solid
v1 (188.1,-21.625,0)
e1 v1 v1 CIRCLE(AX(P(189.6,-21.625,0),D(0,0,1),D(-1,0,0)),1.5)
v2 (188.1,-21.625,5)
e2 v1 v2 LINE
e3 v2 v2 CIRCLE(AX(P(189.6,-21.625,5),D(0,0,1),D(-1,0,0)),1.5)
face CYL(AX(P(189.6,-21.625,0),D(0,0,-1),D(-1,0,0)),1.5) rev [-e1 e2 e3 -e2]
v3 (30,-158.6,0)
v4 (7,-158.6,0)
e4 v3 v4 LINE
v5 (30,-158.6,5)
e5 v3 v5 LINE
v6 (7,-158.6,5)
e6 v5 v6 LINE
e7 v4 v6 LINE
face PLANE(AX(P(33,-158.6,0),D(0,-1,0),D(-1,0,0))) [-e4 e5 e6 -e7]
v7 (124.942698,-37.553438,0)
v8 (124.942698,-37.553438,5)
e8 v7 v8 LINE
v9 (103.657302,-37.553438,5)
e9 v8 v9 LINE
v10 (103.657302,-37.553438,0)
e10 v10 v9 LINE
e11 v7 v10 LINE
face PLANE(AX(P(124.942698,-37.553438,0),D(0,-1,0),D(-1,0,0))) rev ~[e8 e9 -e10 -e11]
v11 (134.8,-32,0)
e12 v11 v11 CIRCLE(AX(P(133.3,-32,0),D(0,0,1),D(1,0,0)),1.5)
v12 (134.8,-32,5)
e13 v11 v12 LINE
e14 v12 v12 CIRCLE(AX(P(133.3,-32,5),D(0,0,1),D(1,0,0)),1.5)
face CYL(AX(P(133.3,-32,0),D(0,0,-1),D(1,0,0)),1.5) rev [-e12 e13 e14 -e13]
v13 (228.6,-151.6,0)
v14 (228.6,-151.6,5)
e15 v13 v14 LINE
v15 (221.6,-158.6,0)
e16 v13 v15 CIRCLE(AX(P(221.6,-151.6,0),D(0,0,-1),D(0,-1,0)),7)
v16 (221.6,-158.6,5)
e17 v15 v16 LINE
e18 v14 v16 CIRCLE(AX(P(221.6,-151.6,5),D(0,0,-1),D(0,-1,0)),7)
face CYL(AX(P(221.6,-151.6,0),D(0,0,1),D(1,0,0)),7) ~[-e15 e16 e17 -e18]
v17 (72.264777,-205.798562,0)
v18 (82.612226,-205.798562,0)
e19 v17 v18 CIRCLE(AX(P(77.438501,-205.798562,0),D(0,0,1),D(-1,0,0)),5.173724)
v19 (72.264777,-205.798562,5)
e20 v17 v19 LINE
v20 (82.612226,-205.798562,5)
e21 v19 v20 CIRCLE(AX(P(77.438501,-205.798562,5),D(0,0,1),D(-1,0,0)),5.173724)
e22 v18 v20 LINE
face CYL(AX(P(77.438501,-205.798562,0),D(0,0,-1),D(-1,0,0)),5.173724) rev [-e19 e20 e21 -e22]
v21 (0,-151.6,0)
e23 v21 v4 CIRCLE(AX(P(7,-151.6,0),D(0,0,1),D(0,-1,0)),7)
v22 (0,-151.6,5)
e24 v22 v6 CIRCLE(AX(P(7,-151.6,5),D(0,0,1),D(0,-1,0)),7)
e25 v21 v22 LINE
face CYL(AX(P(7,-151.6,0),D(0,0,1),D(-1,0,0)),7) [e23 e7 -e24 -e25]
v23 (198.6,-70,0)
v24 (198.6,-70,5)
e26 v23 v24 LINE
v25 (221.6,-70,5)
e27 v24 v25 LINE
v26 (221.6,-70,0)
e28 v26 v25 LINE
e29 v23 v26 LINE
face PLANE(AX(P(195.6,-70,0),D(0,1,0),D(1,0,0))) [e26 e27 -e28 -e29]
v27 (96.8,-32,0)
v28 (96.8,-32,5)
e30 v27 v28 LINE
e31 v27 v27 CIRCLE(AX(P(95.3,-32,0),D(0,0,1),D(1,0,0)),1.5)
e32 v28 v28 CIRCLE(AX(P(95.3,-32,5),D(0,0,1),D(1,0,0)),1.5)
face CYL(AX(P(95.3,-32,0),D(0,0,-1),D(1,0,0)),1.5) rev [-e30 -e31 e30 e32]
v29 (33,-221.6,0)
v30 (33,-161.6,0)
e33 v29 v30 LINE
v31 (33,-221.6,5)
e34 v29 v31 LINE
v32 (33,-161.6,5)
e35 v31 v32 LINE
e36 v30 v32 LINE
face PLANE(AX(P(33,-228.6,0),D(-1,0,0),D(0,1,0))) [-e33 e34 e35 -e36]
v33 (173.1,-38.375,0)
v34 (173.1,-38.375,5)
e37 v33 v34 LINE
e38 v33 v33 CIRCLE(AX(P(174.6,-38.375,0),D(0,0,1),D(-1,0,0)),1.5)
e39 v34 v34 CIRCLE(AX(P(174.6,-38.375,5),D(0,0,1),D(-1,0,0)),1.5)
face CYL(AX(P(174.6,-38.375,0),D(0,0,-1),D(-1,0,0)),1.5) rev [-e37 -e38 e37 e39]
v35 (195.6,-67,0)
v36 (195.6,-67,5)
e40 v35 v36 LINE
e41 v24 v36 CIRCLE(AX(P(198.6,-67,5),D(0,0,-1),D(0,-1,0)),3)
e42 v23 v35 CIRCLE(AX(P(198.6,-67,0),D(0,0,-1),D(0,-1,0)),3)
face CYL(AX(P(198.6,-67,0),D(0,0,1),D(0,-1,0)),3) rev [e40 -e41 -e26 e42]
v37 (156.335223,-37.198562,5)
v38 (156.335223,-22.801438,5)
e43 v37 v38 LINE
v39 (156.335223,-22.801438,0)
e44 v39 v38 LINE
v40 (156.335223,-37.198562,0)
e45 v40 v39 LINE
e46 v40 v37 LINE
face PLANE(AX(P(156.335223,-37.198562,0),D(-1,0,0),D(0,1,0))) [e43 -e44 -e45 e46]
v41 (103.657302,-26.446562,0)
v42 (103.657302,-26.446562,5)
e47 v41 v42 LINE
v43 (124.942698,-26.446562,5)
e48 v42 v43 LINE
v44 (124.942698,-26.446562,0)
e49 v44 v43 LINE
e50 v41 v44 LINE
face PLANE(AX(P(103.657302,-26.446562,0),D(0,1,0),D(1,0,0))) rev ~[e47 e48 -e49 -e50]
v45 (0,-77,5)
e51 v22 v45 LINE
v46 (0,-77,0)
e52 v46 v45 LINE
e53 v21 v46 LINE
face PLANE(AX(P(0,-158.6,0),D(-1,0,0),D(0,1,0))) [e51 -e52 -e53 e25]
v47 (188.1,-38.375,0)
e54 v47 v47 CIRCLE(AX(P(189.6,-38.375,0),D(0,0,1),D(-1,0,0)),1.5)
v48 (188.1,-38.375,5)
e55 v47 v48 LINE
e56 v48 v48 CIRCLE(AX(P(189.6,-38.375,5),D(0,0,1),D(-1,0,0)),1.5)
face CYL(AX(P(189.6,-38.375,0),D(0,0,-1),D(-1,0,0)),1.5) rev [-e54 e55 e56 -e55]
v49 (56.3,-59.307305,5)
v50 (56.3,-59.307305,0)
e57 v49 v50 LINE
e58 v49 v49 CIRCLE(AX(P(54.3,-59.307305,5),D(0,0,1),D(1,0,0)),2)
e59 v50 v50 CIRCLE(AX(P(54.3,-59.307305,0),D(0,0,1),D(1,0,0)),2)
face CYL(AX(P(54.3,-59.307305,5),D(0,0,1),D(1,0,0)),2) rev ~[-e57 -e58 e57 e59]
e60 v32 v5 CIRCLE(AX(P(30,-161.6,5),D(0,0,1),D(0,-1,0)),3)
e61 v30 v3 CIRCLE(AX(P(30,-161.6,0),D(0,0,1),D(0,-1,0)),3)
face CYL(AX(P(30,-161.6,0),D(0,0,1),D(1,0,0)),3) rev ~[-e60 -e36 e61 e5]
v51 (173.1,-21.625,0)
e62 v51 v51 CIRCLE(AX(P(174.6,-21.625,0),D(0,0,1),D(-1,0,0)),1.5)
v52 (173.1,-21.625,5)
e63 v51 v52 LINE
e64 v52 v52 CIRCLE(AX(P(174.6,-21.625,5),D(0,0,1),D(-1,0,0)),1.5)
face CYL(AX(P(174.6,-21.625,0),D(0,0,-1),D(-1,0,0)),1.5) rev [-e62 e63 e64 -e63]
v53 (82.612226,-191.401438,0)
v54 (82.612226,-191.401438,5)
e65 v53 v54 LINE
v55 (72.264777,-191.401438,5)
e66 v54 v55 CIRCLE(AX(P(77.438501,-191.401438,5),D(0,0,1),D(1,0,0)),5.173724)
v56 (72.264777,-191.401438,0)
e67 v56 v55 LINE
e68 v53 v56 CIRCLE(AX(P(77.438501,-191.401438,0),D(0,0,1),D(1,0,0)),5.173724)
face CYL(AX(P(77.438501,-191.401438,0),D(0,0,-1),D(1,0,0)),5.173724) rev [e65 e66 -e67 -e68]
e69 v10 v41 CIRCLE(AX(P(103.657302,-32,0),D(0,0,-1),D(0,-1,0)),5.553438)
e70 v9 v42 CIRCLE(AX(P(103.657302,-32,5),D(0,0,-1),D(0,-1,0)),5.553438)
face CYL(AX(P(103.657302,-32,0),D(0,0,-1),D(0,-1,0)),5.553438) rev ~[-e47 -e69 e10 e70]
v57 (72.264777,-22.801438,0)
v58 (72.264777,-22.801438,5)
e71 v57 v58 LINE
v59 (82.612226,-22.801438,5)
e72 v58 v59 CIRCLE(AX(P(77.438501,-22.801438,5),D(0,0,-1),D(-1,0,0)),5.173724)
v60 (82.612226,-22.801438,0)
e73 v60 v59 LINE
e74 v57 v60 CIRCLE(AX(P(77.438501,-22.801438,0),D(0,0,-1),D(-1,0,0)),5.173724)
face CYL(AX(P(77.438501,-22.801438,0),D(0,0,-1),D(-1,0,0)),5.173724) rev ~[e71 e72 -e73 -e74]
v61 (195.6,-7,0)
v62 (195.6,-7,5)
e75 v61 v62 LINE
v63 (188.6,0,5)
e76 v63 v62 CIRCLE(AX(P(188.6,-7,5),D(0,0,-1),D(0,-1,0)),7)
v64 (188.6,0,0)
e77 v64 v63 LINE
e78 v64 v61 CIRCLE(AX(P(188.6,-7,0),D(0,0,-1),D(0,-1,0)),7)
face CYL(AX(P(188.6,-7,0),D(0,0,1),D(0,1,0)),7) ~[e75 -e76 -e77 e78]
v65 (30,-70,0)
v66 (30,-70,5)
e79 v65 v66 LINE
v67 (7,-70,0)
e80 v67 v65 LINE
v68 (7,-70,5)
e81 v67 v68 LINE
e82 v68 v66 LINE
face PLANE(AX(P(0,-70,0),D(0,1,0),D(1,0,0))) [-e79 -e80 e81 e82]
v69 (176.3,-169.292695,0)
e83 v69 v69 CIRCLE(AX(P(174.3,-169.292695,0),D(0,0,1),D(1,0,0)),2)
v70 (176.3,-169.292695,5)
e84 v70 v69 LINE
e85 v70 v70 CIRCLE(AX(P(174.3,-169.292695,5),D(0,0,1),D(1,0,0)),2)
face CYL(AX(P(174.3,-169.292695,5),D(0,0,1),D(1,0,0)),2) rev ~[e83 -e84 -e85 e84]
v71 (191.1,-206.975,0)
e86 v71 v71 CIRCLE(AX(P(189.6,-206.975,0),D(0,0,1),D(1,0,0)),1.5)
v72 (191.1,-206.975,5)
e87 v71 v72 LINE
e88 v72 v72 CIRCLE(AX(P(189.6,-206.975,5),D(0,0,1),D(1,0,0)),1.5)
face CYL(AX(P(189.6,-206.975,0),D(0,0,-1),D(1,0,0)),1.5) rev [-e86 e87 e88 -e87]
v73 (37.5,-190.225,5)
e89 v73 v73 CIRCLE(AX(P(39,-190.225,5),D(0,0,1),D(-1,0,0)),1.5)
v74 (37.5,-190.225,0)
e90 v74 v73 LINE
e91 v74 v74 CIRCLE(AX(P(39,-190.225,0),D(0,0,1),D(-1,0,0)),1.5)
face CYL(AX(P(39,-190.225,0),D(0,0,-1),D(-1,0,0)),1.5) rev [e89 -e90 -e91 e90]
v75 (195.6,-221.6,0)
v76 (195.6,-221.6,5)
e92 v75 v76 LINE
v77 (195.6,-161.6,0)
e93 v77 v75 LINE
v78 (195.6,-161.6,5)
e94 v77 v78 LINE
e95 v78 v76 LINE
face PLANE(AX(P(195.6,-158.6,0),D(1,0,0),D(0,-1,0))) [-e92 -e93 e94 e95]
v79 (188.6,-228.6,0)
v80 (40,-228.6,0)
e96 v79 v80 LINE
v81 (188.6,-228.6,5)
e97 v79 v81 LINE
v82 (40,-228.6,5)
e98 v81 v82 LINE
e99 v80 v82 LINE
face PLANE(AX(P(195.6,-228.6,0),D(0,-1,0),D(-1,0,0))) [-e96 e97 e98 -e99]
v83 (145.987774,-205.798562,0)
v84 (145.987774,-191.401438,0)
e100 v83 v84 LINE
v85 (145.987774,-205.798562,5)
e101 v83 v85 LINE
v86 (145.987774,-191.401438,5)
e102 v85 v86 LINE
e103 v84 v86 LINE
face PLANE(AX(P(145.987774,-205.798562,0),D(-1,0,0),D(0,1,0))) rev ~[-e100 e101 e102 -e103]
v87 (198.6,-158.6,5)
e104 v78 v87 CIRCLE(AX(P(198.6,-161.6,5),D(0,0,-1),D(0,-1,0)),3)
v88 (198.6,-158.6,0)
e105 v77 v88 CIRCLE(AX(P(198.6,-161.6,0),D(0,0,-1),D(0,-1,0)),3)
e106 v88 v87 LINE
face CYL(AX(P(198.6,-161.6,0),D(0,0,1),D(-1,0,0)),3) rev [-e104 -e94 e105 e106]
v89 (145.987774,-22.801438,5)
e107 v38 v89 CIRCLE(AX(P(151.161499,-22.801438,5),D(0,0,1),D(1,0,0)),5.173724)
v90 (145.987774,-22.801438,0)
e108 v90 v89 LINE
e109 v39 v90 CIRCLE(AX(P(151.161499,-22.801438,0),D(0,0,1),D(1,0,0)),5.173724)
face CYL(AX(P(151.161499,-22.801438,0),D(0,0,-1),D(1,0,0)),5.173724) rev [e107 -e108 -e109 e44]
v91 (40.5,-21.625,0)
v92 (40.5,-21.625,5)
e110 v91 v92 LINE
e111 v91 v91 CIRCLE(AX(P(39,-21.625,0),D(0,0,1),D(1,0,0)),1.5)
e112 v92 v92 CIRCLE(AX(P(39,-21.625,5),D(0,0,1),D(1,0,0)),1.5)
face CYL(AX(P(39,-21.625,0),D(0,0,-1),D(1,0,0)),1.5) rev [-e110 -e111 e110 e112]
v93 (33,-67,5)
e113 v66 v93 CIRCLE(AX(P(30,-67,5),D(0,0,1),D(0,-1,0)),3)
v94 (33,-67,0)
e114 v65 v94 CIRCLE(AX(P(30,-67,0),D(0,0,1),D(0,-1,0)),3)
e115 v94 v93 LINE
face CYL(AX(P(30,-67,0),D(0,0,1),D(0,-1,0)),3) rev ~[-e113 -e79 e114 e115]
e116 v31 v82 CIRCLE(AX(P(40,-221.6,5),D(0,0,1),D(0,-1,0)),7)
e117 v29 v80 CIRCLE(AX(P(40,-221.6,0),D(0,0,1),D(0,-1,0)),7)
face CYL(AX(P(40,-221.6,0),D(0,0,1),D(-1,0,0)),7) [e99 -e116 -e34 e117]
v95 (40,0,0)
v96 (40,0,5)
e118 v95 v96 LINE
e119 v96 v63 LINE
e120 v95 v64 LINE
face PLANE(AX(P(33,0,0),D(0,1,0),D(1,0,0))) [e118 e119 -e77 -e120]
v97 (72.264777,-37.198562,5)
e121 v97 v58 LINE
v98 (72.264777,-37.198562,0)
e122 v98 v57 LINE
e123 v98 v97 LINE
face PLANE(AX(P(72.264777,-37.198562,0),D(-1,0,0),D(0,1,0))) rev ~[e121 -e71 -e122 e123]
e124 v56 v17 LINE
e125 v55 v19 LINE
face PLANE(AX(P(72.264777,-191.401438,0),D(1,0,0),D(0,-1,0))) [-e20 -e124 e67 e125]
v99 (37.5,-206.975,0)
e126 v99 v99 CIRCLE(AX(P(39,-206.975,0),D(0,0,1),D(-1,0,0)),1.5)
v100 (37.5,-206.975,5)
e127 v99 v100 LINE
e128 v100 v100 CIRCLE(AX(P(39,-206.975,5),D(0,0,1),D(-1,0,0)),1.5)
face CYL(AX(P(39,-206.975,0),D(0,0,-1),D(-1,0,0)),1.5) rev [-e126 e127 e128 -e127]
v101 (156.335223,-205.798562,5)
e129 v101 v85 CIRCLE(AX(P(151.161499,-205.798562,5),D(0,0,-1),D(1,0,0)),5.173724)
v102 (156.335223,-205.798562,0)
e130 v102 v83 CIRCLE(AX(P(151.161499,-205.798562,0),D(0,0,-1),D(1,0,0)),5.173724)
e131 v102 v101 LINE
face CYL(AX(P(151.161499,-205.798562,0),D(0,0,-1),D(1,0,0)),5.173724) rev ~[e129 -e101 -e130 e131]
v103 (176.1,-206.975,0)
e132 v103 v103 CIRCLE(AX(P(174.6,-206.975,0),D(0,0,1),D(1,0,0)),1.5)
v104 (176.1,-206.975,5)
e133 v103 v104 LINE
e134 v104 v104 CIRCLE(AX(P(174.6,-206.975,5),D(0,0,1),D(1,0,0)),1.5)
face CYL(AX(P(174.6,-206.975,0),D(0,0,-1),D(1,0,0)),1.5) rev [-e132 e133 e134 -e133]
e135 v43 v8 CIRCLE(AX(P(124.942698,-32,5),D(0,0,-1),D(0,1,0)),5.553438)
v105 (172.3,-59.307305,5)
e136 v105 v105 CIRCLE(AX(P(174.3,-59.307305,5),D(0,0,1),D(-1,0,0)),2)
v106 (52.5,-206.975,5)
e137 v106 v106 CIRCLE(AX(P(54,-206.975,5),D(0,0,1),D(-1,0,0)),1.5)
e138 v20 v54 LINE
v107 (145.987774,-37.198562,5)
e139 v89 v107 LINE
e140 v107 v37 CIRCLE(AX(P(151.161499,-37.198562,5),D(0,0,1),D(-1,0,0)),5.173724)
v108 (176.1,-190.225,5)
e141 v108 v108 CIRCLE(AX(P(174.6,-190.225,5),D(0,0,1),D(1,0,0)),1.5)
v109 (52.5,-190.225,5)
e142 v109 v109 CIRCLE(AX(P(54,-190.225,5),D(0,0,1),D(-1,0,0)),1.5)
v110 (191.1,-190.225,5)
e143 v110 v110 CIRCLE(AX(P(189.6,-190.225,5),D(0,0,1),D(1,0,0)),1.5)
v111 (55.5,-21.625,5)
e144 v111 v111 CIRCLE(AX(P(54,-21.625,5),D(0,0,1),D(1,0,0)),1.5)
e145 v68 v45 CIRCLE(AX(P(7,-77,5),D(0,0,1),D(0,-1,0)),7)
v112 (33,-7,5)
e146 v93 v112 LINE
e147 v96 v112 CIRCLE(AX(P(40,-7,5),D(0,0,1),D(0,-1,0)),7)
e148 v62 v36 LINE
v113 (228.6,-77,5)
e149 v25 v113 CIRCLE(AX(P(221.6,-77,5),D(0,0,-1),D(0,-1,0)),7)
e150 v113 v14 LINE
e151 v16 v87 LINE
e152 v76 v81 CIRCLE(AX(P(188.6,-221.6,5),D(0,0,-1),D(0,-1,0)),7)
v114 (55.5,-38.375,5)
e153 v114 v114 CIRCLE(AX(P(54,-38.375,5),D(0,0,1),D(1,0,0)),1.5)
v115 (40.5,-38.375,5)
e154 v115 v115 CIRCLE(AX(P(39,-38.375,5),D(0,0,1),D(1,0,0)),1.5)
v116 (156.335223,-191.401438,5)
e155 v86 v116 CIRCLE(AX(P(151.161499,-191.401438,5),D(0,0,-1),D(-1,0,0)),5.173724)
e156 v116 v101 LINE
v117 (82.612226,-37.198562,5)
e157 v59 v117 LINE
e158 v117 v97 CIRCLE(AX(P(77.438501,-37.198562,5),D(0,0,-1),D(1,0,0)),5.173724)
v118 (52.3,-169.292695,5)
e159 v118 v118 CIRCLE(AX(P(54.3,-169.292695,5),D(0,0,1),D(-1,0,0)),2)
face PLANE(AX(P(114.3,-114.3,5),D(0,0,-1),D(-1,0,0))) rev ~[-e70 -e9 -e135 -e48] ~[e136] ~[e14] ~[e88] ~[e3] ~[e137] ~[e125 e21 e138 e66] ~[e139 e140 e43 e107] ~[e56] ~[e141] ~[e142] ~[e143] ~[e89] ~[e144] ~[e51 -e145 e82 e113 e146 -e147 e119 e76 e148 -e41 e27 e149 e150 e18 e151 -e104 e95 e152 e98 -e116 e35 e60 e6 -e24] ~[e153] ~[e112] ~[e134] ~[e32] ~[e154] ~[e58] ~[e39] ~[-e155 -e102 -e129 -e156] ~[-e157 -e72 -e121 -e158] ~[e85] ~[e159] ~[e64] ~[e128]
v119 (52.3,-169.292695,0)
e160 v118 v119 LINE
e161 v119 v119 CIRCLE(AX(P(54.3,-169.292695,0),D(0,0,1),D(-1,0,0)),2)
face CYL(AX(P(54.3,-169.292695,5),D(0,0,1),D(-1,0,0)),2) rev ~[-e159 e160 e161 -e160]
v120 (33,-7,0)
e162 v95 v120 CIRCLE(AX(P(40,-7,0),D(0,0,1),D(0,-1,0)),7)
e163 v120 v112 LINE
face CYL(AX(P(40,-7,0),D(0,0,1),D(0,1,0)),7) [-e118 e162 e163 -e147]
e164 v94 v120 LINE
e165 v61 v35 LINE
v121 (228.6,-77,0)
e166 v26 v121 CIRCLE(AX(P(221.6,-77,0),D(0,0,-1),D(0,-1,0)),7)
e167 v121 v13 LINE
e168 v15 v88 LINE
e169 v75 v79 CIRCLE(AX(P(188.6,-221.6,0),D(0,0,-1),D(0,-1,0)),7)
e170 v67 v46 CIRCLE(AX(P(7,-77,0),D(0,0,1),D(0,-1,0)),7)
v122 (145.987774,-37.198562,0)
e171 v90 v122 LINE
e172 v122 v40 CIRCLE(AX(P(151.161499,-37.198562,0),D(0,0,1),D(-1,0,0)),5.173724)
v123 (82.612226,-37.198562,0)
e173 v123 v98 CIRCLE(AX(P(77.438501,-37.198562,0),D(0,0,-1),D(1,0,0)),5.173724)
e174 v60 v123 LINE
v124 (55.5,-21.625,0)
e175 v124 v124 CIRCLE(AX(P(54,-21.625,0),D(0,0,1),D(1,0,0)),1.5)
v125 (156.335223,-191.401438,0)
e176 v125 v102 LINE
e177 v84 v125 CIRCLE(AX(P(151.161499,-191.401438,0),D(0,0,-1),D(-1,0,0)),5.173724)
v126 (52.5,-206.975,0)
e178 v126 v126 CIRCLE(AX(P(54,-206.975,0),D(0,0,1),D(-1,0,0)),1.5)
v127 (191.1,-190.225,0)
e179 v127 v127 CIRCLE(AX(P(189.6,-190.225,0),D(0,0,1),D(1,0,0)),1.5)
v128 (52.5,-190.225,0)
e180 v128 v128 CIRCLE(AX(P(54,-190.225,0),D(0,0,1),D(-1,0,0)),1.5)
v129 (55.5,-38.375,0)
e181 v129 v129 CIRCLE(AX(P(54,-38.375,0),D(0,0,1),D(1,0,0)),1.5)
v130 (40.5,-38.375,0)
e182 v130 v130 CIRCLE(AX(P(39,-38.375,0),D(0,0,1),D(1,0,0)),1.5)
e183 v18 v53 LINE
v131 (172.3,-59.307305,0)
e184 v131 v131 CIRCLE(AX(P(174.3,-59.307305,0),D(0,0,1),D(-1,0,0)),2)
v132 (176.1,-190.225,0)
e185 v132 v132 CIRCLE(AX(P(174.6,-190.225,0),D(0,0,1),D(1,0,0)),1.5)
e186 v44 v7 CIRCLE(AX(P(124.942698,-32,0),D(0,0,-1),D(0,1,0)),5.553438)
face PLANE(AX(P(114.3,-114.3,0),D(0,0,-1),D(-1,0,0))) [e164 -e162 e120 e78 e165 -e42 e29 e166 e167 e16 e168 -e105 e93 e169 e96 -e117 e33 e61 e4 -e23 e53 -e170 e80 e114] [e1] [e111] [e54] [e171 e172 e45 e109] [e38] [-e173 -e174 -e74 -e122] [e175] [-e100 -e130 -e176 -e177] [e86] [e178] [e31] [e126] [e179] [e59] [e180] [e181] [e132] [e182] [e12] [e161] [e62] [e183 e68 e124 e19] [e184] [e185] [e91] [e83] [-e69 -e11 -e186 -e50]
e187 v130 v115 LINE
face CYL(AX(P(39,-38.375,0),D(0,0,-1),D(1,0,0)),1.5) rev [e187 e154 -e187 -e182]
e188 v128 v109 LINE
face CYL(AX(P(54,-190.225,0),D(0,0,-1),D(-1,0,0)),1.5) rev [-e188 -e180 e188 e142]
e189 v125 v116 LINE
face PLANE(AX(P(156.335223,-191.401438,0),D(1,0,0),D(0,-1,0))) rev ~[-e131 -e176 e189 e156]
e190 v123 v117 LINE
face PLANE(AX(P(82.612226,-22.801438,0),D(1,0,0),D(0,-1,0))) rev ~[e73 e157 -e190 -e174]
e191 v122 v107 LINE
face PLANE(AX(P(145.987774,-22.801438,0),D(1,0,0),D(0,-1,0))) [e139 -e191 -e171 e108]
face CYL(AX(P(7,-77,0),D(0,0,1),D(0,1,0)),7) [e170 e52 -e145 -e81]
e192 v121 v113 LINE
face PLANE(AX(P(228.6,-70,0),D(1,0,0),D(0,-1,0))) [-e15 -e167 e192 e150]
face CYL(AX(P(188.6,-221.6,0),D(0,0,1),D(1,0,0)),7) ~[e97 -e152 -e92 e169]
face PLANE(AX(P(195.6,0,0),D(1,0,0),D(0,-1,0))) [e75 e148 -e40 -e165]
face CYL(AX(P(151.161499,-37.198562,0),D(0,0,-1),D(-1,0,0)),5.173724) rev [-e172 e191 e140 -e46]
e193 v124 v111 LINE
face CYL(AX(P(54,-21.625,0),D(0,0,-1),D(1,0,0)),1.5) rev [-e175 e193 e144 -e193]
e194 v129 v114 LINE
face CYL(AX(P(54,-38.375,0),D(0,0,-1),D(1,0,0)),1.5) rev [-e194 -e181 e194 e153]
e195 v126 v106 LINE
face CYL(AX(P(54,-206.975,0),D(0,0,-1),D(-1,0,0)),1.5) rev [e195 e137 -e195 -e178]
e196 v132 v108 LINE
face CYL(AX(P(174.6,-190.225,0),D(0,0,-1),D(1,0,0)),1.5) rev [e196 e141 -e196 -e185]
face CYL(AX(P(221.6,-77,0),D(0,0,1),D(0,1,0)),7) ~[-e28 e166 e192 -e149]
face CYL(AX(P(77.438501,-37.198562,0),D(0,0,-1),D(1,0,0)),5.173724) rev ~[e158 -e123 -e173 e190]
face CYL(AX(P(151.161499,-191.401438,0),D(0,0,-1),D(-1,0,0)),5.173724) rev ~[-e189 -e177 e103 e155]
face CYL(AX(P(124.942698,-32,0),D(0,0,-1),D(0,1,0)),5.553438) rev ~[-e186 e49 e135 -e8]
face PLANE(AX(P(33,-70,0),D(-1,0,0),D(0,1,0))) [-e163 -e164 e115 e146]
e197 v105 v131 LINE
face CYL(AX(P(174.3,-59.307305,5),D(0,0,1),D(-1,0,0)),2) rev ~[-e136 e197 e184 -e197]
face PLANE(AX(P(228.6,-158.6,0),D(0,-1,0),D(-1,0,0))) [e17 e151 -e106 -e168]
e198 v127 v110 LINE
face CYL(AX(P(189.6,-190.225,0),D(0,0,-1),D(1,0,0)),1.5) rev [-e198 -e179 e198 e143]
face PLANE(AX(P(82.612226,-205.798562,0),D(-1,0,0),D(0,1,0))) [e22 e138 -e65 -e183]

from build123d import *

# Parameters (mm, degrees)
SKETCH1_R           = 1.5
BOSS_EXTRUDE1_DEPTH = 5
SKETCH2_R           = 2
CUT_EXTRUDE1_DEPTH  = 5
FILLET1_R           = 7
FILLET2_R           = 7
FILLET3_R           = 3


with BuildPart() as part:
    # Sketch1 → Boss-Extrude1 (new body)
    with BuildSketch(Plane.XY):
        Polygon((33, 0), (195.6, 0), (195.6, -70), (228.6, -70), (228.6, -158.6), (195.6, -158.6), (195.6, -228.6), (33, -228.6), (33, -158.6), (0, -158.6), (0, -70), (33, -70), align=None)
        with Locations((95.3, -32)):
            Circle(SKETCH1_R, mode=Mode.SUBTRACT)
        with Locations((133.3, -32)):
            Circle(SKETCH1_R, mode=Mode.SUBTRACT)
        with Locations((39, -21.625)):
            Circle(SKETCH1_R, mode=Mode.SUBTRACT)
        with Locations((39, -38.375)):
            Circle(SKETCH1_R, mode=Mode.SUBTRACT)
        with Locations((54, -38.375)):
            Circle(SKETCH1_R, mode=Mode.SUBTRACT)
        with Locations((54, -21.625)):
            Circle(SKETCH1_R, mode=Mode.SUBTRACT)
        with Locations(Location((54, -206.975, 0), (0, 0, 180))):
            Circle(SKETCH1_R, mode=Mode.SUBTRACT)
        with Locations(Location((54, -190.225, 0), (0, 0, 180))):
            Circle(SKETCH1_R, mode=Mode.SUBTRACT)
        with Locations(Location((39, -190.225, 0), (0, 0, 180))):
            Circle(SKETCH1_R, mode=Mode.SUBTRACT)
        with Locations(Location((39, -206.975, 0), (0, 0, 180))):
            Circle(SKETCH1_R, mode=Mode.SUBTRACT)
        with Locations((174.6, -190.225)):
            Circle(SKETCH1_R, mode=Mode.SUBTRACT)
        with Locations((174.6, -206.975)):
            Circle(SKETCH1_R, mode=Mode.SUBTRACT)
        with Locations((189.6, -206.975)):
            Circle(SKETCH1_R, mode=Mode.SUBTRACT)
        with Locations((189.6, -190.225)):
            Circle(SKETCH1_R, mode=Mode.SUBTRACT)
        with Locations(Location((189.6, -38.375, 0), (0, 0, 180))):
            Circle(SKETCH1_R, mode=Mode.SUBTRACT)
        with Locations(Location((174.6, -38.375, 0), (0, 0, 180))):
            Circle(SKETCH1_R, mode=Mode.SUBTRACT)
        with Locations(Location((174.6, -21.625, 0), (0, 0, 180))):
            Circle(SKETCH1_R, mode=Mode.SUBTRACT)
        with Locations(Location((189.6, -21.625, 0), (0, 0, 180))):
            Circle(SKETCH1_R, mode=Mode.SUBTRACT)
        with BuildLine():
            Line((72.264776933, -37.198562168), (72.264776933, -22.801437832))
            ThreePointArc((72.264776933, -22.801437832), (77.438501315, -17.627713451), (82.612225696, -22.801437832))
            Line((82.612225696, -22.801437832), (82.612225696, -37.198562168))
            ThreePointArc((82.612225696, -37.198562168), (77.438501315, -42.372286549), (72.264776933, -37.198562168))
        make_face(mode=Mode.SUBTRACT)
        with BuildLine():
            Line((103.657302093, -26.446561828), (124.942697907, -26.446561828))
            ThreePointArc((124.942697907, -26.446561828), (130.496136079, -32), (124.942697907, -37.553438172))
            Line((124.942697907, -37.553438172), (103.657302093, -37.553438172))
            ThreePointArc((103.657302093, -37.553438172), (98.103863921, -32), (103.657302093, -26.446561828))
        make_face(mode=Mode.SUBTRACT)
        with BuildLine():
            Line((72.264776933, -191.401437832), (72.264776933, -205.798562168))
            ThreePointArc((72.264776933, -205.798562168), (77.438501315, -210.972286549), (82.612225696, -205.798562168))
            Line((82.612225696, -205.798562168), (82.612225696, -191.401437832))
            ThreePointArc((82.612225696, -191.401437832), (77.438501315, -186.227713451), (72.264776933, -191.401437832))
        make_face(mode=Mode.SUBTRACT)
        with BuildLine():
            Line((156.335223067, -191.401437832), (156.335223067, -205.798562168))
            ThreePointArc((156.335223067, -205.798562168), (151.161498685, -210.972286549), (145.987774304, -205.798562168))
            Line((145.987774304, -205.798562168), (145.987774304, -191.401437832))
            ThreePointArc((145.987774304, -191.401437832), (151.161498685, -186.227713451), (156.335223067, -191.401437832))
        make_face(mode=Mode.SUBTRACT)
        with BuildLine():
            Line((156.335223067, -37.198562168), (156.335223067, -22.801437832))
            ThreePointArc((156.335223067, -22.801437832), (151.161498685, -17.627713451), (145.987774304, -22.801437832))
            Line((145.987774304, -22.801437832), (145.987774304, -37.198562168))
            ThreePointArc((145.987774304, -37.198562168), (151.161498685, -42.372286549), (156.335223067, -37.198562168))
        make_face(mode=Mode.SUBTRACT)
    extrude(amount=BOSS_EXTRUDE1_DEPTH)

    # Sketch2 → Cut-Extrude1 (cut)
    with BuildSketch(Plane.XY.offset(5)):
        with Locations((54.3, -59.307305139)):
            Circle(SKETCH2_R)
        with Locations(Location((174.3, -59.307305139, 0), (0, 0, 180))):
            Circle(SKETCH2_R)
        with Locations((174.3, -169.292694861)):
            Circle(SKETCH2_R)
        with Locations(Location((54.3, -169.292694861, 0), (0, 0, 180))):
            Circle(SKETCH2_R)
    extrude(amount=-CUT_EXTRUDE1_DEPTH, mode=Mode.SUBTRACT)

    # Fillet1
    fillet1_edges = [part.edges().sort_by_distance(p)[0] for p in [
        (33, 0, 2.5),
        (195.6, 0, 2.5),
        (228.6, -70, 2.5),
        (228.6, -158.6, 2.5),
        (0, -158.6, 2.5),
        (0, -70, 2.5),
    ]]
    fillet(fillet1_edges, radius=FILLET1_R)

    # Fillet2
    fillet2_edges = [part.edges().sort_by_distance(p)[0] for p in [
        (195.6, -228.6, 2.5),
        (33, -228.6, 2.5),
    ]]
    fillet(fillet2_edges, radius=FILLET2_R)

    # Fillet3
    fillet3_edges = [part.edges().sort_by_distance(p)[0] for p in [
        (33, -70, 2.5),
        (195.6, -70, 2.5),
        (195.6, -158.6, 2.5),
        (33, -158.6, 2.5),
    ]]
    fillet(fillet3_edges, radius=FILLET3_R)


solid = part.part
